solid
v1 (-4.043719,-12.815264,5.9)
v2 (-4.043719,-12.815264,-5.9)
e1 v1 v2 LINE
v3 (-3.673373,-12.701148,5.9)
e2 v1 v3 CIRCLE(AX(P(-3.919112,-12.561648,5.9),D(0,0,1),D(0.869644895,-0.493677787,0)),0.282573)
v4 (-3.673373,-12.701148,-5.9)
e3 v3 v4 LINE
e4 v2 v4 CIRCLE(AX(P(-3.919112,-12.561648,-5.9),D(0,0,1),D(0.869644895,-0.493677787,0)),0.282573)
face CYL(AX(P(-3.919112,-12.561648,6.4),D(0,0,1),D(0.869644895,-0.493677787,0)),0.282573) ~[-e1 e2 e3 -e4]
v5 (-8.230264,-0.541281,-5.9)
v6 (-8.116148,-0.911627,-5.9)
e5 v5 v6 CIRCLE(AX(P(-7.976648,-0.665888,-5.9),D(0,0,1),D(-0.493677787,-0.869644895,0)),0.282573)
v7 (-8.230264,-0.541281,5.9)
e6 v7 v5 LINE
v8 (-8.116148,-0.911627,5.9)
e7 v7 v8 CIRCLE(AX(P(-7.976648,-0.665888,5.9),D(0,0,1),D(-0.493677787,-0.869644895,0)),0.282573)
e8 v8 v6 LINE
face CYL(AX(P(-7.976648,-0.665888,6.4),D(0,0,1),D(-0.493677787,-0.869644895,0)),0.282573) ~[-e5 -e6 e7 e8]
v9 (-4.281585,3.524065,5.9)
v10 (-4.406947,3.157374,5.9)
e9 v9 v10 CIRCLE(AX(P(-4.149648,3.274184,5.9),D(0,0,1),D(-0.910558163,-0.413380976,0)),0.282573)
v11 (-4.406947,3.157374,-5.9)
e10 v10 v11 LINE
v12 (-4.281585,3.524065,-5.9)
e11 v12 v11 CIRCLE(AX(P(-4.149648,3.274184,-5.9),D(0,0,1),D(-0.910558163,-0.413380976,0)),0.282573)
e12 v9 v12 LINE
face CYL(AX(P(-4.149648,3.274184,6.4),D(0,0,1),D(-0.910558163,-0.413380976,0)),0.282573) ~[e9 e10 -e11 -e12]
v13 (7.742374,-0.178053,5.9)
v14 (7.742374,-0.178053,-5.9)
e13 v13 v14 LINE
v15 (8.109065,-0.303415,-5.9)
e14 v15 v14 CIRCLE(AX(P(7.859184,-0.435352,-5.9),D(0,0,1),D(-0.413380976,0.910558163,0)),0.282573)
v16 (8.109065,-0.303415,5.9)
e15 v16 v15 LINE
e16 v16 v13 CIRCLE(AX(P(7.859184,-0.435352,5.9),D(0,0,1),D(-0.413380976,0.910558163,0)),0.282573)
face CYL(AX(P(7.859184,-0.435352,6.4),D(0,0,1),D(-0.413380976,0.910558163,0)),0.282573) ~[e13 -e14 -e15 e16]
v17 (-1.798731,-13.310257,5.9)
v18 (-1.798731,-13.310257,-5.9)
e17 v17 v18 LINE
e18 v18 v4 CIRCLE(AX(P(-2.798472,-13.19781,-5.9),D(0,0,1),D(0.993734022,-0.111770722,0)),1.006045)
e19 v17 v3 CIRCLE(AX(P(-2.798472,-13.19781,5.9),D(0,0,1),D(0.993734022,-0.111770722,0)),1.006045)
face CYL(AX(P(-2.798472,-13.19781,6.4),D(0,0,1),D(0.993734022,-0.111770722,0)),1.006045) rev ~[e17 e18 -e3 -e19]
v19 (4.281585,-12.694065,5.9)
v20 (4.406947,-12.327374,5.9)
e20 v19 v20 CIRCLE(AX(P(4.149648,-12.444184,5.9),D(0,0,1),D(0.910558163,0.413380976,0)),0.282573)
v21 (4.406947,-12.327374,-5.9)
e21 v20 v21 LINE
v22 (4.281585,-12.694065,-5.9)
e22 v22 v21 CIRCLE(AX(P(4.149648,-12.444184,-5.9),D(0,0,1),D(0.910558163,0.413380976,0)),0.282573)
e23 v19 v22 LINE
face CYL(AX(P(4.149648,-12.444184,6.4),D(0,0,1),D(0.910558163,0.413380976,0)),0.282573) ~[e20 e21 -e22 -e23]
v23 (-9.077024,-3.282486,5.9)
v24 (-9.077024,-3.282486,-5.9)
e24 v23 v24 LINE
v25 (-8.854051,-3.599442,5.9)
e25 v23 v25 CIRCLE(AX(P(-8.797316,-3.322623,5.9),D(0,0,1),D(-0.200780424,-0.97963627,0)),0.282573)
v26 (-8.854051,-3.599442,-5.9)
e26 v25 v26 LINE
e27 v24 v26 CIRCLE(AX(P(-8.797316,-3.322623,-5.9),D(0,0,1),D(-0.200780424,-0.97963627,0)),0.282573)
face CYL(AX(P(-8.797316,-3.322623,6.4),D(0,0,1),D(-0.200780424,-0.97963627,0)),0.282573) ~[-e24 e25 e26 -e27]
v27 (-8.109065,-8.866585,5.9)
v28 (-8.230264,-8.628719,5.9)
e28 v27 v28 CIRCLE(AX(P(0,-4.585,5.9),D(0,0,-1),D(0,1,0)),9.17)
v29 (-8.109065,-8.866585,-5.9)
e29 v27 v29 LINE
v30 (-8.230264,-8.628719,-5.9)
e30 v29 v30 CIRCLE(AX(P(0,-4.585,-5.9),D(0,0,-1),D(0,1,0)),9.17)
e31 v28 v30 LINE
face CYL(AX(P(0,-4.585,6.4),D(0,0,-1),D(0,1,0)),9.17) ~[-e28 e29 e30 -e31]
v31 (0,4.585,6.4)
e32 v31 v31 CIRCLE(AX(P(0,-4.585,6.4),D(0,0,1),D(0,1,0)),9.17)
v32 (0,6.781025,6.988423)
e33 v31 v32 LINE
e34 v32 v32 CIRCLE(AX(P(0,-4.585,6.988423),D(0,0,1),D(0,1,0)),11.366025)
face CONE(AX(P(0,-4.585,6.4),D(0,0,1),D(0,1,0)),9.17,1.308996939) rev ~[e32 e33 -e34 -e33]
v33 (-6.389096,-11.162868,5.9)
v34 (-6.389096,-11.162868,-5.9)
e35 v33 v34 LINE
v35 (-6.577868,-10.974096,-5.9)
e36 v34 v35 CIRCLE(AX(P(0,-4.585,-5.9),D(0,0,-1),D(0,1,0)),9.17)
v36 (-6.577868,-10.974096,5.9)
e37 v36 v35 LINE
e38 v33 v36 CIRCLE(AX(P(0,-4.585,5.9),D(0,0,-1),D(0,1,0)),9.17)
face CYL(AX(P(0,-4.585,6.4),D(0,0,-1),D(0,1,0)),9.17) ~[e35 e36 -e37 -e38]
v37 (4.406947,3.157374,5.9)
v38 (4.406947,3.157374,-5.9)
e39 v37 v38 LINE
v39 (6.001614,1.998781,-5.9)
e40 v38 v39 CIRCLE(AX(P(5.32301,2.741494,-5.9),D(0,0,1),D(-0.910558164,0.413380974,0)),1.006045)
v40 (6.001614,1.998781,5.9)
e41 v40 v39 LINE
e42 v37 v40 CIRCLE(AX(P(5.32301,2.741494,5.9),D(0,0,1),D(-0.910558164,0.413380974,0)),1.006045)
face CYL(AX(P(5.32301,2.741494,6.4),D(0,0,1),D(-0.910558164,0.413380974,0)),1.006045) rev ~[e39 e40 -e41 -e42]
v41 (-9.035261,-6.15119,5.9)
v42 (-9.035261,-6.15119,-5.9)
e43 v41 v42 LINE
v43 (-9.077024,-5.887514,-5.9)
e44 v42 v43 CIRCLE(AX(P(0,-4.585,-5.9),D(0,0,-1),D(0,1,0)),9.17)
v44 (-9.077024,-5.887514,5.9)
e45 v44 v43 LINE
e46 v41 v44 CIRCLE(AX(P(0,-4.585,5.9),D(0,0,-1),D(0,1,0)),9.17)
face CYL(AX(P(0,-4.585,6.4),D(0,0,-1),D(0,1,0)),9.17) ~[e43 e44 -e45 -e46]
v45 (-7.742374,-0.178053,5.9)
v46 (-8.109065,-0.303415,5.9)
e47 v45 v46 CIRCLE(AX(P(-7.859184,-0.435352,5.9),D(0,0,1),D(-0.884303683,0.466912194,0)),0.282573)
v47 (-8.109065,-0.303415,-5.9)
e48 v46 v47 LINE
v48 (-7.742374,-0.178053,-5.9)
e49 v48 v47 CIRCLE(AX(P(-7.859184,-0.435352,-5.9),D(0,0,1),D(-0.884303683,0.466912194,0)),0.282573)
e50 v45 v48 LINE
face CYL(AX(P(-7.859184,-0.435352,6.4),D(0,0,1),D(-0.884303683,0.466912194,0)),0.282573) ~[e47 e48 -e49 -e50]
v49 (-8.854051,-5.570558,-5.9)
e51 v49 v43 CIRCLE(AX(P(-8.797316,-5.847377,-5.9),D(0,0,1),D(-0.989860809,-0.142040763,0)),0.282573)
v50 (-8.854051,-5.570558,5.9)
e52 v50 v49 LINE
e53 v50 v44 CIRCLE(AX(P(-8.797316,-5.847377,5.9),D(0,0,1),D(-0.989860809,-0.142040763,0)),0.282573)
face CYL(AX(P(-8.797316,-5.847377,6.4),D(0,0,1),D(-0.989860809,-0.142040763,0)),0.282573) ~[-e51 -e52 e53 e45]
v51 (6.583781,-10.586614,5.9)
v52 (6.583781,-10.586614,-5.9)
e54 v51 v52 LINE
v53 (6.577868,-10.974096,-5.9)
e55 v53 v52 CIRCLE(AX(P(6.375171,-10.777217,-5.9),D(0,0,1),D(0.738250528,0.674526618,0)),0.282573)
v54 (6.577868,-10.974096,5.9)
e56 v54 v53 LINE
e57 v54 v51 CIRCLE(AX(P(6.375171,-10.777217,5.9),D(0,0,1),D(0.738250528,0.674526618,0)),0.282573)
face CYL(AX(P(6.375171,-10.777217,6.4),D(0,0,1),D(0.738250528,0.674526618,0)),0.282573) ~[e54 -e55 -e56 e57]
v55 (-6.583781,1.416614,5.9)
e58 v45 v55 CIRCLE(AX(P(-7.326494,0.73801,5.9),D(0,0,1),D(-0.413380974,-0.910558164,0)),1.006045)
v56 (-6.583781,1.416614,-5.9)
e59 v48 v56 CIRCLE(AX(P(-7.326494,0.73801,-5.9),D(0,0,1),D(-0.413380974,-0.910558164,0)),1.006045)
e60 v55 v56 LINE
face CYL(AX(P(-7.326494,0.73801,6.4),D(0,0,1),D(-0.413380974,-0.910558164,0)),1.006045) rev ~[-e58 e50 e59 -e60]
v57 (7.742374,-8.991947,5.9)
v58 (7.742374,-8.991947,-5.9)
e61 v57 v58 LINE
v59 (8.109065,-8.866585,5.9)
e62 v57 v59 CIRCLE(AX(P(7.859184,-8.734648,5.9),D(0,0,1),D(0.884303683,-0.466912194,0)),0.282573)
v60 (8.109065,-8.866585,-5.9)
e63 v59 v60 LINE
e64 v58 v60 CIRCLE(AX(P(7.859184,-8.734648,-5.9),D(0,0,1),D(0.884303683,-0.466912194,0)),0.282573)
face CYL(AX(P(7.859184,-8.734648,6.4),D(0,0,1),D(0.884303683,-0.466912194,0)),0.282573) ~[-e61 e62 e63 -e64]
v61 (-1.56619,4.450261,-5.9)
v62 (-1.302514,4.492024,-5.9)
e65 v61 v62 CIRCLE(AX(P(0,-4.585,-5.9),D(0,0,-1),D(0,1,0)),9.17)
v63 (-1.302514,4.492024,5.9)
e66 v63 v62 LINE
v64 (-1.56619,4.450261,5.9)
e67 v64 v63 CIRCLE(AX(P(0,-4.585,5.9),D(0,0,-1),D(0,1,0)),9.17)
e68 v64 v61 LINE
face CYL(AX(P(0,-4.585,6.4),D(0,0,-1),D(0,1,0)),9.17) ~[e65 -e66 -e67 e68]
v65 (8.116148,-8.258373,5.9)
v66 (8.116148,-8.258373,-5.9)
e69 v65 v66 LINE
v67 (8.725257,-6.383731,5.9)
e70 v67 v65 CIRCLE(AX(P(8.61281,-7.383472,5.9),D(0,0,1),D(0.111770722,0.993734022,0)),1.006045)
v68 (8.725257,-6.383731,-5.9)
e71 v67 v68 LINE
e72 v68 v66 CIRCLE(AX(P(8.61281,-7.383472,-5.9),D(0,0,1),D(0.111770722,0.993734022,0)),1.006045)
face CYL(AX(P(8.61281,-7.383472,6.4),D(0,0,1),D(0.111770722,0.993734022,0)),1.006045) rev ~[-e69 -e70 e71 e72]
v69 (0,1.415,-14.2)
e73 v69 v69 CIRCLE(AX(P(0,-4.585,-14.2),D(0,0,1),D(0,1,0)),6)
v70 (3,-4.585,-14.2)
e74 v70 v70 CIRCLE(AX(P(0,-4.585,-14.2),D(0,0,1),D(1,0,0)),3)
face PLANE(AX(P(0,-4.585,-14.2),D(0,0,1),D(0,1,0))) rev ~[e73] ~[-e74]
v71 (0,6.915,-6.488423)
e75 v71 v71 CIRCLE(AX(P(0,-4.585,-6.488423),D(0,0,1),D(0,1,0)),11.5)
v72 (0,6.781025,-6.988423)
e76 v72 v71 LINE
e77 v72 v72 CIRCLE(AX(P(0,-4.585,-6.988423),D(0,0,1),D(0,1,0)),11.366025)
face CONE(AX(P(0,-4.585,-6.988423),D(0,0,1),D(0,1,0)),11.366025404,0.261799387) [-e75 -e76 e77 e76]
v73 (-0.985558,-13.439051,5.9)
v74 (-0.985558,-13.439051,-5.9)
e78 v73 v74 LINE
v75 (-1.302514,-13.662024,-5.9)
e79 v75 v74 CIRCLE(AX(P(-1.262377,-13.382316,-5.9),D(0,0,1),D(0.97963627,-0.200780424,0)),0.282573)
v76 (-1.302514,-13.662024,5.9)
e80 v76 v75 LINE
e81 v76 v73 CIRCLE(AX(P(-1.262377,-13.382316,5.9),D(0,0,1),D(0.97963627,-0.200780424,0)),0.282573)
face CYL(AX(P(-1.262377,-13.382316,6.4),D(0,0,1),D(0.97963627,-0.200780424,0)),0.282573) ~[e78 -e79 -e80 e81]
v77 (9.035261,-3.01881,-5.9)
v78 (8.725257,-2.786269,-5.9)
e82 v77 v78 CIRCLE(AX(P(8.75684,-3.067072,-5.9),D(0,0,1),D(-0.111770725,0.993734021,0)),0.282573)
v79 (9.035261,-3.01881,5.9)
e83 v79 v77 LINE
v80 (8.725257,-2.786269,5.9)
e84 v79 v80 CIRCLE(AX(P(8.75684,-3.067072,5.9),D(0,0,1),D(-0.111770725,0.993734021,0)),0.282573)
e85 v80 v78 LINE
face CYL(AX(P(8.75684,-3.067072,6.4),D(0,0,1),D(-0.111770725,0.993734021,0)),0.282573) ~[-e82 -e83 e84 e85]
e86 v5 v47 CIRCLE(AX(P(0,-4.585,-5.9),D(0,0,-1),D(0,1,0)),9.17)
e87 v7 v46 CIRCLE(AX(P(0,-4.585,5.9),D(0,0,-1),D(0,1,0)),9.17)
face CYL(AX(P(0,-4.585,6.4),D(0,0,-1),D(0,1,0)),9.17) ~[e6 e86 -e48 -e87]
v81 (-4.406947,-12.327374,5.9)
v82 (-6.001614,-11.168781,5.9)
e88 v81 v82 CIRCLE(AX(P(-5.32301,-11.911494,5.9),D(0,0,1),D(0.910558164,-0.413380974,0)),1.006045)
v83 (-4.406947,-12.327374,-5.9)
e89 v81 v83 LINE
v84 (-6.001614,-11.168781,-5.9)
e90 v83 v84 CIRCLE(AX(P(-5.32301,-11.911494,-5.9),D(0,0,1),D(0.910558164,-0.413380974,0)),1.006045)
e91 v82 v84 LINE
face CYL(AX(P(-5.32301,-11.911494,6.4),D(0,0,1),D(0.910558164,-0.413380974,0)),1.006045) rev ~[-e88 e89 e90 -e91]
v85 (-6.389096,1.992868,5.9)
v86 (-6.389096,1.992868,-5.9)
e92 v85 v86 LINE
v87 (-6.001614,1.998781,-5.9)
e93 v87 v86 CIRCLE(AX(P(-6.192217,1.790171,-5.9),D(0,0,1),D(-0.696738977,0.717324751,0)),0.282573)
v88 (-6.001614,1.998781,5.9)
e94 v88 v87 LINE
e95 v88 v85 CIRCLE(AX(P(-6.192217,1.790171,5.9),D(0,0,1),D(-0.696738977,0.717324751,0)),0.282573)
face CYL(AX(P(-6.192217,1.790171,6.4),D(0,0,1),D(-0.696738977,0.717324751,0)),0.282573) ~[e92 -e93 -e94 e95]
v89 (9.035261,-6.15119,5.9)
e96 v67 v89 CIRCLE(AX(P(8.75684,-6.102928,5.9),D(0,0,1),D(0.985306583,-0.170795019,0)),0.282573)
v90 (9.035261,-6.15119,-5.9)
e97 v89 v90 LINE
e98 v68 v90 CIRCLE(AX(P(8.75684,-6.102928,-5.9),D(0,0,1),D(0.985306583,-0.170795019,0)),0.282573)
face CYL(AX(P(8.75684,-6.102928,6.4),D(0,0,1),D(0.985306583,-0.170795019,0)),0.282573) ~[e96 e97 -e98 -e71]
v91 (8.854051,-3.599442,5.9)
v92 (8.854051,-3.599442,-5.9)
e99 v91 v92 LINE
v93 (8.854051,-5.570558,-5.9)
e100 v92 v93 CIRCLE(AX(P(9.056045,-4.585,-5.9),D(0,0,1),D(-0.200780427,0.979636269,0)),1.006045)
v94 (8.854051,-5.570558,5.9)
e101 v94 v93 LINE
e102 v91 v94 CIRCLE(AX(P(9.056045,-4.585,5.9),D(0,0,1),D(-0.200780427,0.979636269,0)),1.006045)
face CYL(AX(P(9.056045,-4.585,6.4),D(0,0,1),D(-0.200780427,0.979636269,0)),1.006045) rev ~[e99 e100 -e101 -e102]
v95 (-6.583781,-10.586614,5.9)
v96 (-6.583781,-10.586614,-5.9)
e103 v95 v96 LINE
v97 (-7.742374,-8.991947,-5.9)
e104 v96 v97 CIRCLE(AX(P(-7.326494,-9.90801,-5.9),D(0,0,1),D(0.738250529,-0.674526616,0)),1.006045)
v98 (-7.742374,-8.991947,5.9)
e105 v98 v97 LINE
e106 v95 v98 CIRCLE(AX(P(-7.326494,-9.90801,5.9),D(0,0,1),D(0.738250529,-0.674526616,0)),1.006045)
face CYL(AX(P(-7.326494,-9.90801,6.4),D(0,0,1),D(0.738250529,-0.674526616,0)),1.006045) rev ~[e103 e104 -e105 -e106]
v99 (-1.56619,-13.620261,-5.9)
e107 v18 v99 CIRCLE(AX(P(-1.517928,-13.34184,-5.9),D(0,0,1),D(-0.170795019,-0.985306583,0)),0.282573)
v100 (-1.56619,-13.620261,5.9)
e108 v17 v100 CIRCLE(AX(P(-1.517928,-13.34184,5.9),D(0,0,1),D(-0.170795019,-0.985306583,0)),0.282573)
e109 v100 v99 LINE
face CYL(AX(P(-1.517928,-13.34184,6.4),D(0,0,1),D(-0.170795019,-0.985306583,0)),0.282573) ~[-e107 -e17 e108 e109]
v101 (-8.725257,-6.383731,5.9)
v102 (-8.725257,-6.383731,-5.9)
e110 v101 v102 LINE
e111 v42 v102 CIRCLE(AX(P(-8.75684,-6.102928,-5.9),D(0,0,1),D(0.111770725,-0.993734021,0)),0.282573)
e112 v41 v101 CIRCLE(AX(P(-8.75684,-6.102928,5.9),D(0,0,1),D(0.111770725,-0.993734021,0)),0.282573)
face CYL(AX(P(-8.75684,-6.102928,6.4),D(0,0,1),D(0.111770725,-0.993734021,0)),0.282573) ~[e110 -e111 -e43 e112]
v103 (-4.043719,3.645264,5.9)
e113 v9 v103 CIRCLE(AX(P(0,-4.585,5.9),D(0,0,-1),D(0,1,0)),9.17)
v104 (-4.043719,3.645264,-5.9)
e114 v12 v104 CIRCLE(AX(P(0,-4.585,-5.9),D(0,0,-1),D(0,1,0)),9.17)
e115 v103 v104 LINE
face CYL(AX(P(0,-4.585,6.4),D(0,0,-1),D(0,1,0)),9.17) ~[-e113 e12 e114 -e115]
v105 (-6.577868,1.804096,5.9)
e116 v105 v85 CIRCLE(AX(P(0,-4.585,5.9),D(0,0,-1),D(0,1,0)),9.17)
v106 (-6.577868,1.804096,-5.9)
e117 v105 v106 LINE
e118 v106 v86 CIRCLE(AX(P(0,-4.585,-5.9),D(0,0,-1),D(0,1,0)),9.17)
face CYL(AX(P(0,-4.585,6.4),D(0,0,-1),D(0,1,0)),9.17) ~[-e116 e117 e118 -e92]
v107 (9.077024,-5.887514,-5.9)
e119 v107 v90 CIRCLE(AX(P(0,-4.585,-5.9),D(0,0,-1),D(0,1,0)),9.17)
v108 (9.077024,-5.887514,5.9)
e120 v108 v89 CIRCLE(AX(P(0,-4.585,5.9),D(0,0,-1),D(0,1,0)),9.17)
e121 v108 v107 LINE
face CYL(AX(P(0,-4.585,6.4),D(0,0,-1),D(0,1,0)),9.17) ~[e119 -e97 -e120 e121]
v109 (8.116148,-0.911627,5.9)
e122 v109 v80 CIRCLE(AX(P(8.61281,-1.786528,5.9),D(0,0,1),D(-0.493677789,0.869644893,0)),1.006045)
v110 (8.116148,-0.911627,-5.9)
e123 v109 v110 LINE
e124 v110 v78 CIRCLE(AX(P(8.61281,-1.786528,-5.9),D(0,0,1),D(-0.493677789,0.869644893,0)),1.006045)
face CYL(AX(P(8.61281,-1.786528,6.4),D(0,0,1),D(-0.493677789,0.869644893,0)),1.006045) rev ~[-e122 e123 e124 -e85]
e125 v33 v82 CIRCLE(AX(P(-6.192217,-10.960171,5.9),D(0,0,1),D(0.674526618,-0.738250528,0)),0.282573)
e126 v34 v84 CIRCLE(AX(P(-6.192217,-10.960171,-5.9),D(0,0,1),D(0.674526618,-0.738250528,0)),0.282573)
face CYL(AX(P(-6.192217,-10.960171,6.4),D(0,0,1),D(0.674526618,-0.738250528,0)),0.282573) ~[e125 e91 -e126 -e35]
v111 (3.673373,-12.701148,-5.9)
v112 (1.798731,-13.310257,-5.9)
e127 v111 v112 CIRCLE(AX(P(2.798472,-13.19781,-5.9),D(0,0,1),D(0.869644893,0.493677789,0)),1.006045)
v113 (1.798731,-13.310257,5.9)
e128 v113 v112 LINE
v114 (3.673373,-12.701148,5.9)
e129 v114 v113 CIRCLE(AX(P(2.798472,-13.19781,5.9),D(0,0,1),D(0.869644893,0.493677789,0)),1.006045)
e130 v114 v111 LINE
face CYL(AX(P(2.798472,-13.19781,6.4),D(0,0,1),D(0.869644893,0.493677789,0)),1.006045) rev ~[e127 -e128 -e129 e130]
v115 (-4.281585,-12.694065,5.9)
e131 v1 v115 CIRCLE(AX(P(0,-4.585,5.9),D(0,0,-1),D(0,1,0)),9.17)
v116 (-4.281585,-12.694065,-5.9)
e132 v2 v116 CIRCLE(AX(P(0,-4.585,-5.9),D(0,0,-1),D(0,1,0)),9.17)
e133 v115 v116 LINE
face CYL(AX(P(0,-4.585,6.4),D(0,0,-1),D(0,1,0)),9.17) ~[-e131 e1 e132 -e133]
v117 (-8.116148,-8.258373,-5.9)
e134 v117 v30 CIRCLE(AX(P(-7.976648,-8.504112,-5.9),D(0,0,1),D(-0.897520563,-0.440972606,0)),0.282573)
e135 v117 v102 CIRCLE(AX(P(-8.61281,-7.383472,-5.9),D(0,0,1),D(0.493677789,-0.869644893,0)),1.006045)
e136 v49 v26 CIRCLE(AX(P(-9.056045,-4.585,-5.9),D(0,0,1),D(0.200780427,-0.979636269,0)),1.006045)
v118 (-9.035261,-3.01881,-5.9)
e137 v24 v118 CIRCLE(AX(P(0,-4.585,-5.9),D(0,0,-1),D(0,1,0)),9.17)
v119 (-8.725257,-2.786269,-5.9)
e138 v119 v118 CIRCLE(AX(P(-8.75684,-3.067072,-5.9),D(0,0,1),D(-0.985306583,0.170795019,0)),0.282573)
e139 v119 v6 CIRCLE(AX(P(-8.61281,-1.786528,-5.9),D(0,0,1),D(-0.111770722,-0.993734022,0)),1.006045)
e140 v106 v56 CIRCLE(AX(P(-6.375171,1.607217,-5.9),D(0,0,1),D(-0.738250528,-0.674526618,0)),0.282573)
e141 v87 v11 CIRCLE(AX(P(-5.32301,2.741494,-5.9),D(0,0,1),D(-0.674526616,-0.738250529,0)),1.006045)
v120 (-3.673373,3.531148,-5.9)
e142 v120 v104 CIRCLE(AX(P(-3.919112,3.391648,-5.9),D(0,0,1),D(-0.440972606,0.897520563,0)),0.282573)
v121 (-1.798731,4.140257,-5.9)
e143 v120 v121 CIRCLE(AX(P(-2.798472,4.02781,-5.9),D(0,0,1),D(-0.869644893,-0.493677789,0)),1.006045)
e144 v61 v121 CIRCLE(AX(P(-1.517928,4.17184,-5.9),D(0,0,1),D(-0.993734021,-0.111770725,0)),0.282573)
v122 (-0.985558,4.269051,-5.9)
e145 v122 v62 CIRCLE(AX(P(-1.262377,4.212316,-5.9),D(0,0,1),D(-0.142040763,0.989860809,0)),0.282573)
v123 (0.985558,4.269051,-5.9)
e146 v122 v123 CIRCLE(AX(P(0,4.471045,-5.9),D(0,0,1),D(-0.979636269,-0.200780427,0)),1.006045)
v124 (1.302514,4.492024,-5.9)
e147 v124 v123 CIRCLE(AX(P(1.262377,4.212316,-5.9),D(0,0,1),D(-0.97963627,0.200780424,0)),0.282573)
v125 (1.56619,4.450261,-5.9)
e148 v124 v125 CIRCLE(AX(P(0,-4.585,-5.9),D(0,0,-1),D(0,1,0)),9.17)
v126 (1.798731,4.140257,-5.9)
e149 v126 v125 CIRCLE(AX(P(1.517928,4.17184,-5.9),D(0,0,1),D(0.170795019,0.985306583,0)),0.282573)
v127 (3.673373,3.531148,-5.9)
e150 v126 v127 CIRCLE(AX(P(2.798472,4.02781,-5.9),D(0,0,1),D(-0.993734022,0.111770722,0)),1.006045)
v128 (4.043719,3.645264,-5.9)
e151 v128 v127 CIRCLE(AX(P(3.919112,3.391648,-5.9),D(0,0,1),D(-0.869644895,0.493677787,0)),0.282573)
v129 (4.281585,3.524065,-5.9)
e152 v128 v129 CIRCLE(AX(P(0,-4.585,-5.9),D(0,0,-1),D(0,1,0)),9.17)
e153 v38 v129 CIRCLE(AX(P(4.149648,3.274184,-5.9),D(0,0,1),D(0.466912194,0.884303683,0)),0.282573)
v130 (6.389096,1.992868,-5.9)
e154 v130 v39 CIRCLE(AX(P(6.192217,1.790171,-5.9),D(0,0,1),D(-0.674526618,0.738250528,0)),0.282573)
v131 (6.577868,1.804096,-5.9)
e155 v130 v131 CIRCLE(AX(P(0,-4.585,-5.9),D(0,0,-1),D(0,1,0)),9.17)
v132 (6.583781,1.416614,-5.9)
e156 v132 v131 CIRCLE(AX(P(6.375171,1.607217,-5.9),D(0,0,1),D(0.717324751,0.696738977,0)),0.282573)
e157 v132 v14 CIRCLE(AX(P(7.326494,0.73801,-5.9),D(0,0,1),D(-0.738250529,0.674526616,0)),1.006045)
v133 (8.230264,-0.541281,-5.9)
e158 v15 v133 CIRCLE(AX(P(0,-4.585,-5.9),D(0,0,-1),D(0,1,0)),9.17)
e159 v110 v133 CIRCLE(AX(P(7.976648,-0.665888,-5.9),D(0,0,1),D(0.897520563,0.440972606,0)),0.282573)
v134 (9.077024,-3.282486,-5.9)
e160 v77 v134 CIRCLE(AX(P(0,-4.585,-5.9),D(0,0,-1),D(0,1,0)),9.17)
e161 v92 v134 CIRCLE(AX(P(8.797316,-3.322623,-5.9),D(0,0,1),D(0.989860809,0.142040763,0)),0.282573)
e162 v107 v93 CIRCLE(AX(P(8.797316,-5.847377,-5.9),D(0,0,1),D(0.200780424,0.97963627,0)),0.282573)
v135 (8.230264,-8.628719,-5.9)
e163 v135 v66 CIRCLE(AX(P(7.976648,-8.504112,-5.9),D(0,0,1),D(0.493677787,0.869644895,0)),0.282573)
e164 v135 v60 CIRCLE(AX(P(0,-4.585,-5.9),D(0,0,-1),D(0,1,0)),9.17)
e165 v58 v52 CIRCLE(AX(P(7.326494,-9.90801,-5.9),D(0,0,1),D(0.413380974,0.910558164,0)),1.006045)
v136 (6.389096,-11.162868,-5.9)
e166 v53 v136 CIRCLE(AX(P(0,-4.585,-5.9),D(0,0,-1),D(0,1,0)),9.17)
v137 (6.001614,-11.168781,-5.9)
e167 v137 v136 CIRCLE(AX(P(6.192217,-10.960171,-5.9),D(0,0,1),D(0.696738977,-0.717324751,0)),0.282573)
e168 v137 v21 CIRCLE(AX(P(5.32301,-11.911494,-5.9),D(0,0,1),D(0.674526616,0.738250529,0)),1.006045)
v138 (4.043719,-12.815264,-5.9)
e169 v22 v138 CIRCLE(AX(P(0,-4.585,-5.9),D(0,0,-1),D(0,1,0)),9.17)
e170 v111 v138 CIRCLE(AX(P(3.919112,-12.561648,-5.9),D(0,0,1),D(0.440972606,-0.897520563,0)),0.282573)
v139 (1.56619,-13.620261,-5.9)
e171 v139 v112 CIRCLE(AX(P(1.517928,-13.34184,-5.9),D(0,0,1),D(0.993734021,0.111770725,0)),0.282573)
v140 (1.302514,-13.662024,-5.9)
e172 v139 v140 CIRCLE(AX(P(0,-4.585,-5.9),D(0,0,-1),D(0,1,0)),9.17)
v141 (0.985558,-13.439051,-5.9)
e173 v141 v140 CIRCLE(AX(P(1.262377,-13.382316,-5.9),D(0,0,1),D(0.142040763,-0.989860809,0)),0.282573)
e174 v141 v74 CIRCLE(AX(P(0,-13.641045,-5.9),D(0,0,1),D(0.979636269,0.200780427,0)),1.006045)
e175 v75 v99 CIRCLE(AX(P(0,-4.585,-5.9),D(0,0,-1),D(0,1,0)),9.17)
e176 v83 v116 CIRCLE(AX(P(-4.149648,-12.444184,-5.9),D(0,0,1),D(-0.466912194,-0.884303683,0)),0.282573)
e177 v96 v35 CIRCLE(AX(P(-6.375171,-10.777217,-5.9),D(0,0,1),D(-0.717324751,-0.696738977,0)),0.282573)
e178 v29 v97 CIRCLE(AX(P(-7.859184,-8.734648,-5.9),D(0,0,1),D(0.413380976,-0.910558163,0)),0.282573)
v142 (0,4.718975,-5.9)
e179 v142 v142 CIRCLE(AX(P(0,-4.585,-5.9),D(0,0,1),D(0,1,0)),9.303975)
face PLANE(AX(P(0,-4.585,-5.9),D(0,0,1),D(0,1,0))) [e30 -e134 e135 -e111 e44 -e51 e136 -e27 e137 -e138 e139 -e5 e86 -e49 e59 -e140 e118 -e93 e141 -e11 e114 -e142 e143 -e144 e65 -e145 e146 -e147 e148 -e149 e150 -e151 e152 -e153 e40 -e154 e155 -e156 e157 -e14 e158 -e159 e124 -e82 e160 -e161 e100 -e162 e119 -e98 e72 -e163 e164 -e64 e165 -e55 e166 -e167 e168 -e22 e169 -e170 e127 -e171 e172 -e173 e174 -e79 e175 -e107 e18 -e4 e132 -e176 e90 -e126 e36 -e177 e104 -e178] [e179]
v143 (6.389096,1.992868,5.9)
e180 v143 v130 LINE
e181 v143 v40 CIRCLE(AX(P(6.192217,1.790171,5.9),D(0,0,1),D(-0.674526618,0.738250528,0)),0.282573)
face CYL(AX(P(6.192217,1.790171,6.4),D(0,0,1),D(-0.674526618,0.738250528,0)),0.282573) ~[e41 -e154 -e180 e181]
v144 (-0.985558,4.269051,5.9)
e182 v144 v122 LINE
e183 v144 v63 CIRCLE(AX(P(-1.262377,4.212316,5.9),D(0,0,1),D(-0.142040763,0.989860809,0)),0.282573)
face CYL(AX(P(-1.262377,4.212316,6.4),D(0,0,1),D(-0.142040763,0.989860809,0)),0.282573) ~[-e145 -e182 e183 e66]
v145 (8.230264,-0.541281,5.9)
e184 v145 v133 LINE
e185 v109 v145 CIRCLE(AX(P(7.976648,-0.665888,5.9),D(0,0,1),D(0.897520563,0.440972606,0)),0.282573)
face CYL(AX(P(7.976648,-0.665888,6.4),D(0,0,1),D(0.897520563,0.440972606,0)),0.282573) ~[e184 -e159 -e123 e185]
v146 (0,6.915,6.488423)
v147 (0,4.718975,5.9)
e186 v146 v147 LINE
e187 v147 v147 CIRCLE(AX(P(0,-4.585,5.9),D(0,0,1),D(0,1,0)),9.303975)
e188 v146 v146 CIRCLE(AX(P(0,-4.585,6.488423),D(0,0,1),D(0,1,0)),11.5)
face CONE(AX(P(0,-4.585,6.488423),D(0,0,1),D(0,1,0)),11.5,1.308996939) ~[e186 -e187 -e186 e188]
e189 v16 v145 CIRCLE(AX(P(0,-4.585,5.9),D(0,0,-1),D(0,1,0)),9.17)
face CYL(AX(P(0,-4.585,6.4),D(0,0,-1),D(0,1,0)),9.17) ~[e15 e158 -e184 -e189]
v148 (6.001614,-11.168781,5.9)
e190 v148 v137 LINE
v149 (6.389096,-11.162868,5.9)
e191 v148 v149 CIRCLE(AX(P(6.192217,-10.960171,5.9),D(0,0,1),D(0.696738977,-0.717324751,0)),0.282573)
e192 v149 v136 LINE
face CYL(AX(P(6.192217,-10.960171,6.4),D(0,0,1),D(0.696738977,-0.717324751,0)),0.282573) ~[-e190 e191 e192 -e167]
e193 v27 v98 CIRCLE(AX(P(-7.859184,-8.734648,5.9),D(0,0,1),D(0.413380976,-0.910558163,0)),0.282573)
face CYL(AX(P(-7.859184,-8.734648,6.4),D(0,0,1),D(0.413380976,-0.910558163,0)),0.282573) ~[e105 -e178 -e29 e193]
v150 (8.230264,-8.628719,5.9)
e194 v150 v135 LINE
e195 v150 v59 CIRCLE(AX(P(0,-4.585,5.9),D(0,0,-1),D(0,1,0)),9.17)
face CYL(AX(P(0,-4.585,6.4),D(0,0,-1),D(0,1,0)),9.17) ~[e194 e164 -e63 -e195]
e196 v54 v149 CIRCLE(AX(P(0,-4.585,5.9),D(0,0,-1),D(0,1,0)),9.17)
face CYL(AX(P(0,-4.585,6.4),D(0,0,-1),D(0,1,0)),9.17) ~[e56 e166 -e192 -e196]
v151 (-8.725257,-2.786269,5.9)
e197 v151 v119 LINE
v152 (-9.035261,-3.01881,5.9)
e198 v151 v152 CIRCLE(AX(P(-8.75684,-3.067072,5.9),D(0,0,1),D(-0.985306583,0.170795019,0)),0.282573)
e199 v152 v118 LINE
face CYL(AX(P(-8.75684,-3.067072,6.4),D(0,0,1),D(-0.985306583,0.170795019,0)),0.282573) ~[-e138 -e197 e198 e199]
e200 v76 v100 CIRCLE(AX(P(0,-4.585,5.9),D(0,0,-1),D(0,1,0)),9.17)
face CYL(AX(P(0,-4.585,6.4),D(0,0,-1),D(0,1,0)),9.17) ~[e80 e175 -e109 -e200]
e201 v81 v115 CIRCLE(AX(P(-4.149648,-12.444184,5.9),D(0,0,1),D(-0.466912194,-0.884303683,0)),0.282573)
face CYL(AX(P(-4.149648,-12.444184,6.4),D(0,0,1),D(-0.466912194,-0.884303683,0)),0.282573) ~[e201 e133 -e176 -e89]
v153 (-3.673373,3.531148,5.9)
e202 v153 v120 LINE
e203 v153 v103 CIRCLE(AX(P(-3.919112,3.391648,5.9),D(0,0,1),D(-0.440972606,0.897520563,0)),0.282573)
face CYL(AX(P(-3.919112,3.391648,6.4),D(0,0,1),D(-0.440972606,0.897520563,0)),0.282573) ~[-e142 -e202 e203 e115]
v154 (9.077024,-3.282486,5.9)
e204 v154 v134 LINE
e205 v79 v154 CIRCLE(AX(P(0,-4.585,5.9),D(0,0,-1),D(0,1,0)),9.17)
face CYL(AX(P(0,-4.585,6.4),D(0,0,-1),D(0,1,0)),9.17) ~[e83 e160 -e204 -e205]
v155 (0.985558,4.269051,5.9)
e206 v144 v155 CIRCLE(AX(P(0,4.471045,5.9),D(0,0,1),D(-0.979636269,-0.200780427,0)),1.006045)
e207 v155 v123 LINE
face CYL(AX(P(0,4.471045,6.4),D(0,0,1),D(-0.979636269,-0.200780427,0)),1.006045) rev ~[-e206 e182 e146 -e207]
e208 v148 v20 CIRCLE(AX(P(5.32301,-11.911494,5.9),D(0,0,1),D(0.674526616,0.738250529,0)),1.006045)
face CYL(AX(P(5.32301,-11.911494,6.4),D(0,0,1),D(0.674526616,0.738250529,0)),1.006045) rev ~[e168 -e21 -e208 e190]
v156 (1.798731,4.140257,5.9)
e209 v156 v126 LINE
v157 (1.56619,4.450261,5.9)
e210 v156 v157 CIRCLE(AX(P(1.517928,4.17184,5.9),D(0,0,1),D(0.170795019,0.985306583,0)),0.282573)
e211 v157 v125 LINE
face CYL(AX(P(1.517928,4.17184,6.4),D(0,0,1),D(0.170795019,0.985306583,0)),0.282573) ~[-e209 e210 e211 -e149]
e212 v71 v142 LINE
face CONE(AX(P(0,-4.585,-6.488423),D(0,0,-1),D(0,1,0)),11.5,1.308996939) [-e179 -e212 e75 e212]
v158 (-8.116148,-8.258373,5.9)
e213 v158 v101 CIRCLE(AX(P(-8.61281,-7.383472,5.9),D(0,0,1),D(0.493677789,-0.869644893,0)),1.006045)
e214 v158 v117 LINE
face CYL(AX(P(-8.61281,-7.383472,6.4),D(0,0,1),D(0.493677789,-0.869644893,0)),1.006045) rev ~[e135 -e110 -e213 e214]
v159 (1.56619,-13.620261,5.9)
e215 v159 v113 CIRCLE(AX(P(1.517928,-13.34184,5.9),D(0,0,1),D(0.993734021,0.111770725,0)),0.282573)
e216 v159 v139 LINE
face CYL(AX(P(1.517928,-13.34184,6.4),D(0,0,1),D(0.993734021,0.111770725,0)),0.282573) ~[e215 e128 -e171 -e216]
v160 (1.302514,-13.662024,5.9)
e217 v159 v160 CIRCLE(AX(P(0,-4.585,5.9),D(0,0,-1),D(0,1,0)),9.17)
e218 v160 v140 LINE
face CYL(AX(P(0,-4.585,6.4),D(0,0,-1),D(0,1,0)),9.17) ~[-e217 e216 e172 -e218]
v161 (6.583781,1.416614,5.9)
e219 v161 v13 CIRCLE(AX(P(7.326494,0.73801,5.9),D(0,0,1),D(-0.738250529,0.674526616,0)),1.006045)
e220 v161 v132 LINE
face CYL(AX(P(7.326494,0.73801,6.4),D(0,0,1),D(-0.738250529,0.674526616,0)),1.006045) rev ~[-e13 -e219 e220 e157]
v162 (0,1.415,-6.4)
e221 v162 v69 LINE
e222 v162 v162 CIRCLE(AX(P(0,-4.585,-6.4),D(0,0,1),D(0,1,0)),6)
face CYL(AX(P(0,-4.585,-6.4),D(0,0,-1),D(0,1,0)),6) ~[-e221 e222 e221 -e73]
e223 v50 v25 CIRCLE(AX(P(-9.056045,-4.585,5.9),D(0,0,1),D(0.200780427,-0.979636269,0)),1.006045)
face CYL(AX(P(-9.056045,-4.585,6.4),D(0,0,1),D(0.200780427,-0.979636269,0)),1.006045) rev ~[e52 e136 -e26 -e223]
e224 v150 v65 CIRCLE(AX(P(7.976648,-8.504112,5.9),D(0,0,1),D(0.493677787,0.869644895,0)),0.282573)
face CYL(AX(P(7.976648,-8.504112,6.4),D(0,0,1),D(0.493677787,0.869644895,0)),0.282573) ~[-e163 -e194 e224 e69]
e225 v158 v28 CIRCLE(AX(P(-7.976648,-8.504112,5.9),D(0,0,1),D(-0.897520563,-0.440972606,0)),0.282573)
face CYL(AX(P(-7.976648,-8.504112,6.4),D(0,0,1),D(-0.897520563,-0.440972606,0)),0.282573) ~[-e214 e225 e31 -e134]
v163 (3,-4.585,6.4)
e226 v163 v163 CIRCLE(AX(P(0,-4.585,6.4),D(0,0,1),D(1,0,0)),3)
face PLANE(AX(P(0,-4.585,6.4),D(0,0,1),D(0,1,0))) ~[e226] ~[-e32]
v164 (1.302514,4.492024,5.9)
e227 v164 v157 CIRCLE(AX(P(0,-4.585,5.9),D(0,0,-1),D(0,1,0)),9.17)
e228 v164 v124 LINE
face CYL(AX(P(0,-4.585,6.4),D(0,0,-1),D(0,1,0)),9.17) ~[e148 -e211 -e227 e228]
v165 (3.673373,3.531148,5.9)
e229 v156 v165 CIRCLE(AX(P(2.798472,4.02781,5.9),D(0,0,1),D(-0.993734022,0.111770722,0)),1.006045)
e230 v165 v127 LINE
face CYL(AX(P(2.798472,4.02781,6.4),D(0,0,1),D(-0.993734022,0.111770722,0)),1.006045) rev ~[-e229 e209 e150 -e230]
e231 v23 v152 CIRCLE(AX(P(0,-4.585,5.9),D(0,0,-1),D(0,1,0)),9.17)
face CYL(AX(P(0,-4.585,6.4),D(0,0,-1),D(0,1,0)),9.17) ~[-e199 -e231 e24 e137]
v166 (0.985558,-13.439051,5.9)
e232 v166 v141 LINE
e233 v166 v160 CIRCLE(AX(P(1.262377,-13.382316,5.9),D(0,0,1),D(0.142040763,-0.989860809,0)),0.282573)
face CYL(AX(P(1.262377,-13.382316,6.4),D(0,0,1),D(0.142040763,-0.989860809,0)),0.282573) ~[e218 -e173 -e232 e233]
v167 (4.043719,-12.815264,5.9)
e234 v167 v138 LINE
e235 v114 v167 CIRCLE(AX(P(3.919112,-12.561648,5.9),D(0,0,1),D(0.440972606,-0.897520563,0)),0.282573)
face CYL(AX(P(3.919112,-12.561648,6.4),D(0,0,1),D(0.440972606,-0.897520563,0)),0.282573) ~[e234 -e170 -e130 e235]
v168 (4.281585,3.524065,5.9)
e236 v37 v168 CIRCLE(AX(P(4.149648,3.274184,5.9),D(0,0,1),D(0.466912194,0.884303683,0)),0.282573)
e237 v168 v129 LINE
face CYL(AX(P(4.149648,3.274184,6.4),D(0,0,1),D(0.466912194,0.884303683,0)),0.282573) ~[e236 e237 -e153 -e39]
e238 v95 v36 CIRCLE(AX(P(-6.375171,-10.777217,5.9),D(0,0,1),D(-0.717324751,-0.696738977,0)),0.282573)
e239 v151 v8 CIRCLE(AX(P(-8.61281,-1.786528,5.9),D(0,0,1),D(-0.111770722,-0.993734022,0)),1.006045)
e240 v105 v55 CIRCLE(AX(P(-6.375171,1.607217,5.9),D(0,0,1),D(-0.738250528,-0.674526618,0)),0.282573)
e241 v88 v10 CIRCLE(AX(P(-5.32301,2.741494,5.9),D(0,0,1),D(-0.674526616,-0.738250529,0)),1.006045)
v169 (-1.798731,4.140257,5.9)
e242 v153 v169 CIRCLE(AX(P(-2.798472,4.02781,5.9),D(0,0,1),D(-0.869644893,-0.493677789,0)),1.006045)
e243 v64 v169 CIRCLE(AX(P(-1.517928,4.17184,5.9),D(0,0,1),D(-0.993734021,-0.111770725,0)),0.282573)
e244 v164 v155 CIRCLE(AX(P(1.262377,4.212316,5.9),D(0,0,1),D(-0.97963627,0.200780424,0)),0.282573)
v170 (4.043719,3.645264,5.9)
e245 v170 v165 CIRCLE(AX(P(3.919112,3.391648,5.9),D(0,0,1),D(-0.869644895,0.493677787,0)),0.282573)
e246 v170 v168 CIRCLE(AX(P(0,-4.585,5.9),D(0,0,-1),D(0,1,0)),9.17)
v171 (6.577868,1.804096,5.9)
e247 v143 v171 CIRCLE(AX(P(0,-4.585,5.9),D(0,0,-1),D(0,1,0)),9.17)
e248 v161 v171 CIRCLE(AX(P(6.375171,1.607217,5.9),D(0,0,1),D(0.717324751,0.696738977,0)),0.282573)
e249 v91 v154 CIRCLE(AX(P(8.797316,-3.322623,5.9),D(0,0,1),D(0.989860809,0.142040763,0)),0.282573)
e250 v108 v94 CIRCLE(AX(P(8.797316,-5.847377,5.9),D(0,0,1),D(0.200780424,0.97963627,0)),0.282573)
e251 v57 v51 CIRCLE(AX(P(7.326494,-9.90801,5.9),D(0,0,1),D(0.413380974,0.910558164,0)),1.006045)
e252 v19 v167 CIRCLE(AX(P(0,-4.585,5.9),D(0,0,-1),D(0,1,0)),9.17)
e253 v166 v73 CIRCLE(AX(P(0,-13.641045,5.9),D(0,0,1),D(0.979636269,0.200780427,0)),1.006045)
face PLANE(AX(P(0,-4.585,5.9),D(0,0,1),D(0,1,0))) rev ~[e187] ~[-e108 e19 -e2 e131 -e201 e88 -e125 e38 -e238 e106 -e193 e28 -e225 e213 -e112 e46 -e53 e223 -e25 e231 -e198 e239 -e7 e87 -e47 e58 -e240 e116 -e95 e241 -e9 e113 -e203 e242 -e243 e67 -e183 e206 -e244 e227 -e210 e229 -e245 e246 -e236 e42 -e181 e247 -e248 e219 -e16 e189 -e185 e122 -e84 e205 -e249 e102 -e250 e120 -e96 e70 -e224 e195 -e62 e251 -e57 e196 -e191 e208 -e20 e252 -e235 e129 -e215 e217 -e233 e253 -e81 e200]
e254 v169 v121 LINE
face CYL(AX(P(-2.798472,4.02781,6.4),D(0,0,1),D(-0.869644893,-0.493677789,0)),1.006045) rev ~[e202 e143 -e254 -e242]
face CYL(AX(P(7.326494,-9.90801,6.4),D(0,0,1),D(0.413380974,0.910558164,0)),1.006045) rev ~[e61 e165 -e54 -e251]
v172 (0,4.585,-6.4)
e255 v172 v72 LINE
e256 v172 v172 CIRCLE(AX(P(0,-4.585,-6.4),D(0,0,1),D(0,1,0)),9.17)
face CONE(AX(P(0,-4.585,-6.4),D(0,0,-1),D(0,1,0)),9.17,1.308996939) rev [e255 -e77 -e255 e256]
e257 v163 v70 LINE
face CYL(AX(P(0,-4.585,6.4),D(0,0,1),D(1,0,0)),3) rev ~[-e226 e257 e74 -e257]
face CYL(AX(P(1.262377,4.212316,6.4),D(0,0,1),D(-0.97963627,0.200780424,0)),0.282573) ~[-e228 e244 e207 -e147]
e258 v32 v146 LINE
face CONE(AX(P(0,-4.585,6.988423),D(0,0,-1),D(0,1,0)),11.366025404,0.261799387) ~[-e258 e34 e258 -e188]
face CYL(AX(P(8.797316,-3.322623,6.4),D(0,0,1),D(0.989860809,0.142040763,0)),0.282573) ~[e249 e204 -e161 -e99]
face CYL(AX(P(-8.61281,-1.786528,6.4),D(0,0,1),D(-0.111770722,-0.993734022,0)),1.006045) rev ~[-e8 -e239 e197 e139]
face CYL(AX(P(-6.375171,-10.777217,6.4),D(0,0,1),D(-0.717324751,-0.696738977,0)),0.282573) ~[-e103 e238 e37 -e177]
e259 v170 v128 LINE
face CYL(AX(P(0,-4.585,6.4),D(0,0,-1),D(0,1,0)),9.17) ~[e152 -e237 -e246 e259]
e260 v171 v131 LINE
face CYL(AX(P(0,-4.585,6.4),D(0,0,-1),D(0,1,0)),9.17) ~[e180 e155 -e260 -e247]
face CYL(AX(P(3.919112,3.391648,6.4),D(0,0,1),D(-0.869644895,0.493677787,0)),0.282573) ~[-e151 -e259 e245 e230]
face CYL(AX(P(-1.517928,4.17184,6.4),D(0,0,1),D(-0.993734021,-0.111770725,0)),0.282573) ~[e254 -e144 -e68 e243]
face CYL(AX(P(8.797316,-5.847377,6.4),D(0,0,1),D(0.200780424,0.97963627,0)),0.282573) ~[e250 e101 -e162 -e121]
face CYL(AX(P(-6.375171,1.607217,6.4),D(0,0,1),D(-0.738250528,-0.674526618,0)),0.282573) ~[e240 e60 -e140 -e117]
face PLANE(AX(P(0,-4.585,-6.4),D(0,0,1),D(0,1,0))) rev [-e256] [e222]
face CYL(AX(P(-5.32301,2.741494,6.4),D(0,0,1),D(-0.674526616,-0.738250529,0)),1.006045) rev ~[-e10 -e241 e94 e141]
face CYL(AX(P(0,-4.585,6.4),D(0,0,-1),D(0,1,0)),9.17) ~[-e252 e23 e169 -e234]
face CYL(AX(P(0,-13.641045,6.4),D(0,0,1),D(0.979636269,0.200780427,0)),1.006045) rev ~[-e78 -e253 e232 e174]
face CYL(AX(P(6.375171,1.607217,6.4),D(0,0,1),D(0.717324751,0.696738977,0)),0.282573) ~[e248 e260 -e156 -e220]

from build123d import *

# Parameters (mm, degrees)
KUGGLUCKA_DEPTH  = 12.8
CIRPATTERN_COUNT = 20
RITNING_4_R      = 3
AXELH_L_DEPTH    = 29.554110475


with BuildPart() as part:
    # Ritning 1 → Kugghjulsämne (revolve)
    with BuildSketch(Plane(origin=(0, 0, 0), x_dir=(0, 0, -1), z_dir=(1, 0, 0))):
        Polygon((6.4, 4.585), (6.4, 1.415), (14.2, 1.415), (14.2, -4.585), (6.4, -4.585), (-6.4, -4.585), (-6.4, 4.585), align=None)
    revolve(axis=Axis((0, -4.585, -14.2), (0, 0, 1)))

    # Ritning 2 → Kugglucka (cut)
    with BuildSketch(Plane.XY.offset(6.4)):
        with BuildLine():
            Line((1.302513782, 4.492023623), (1.302513782, 5.612023623))
            Line((1.302513782, 5.612023623), (-1.302513782, 5.612023623))
            Line((-1.302513782, 5.612023623), (-1.302513782, 4.492023623))
            ThreePointArc((-1.302513782, 4.492023623), (-1.099792064, 4.443429711), (-0.985557985, 4.269050704))
            ThreePointArc((-0.985557985, 4.269050704), (0, 3.465), (0.985557985, 4.269050704))
            ThreePointArc((0.985557985, 4.269050704), (1.099792064, 4.443429711), (1.302513782, 4.492023623))
        make_face()
    kugglucka = extrude(amount=-KUGGLUCKA_DEPTH, mode=Mode.SUBTRACT)

    # CirPattern: Kugglucka ×20 about axis
    cirpattern_axis = Axis((0, -4.585, 0), (0, 0, 1))
    for i in range(1, CIRPATTERN_COUNT):
        add(kugglucka.rotate(cirpattern_axis, i * 360 / CIRPATTERN_COUNT), mode=Mode.SUBTRACT)

    # Ritning 3 → Flänsar (revolve)
    with BuildSketch(Plane(origin=(0, 0, 0), x_dir=(0, 0, -1), z_dir=(1, 0, 0))):
        Polygon((-5.9, 3.0625), (-6.4, 3.0625), (-6.4, 4.585), (-6.988423234, 6.781025404), (-6.488423234, 6.915), (-5.9, 4.718974596), align=None)
        Polygon((5.9, 3.0625), (6.4, 3.0625), (6.4, 4.585), (6.988423234, 6.781025404), (6.488423234, 6.915), (5.9, 4.718974596), align=None)
    revolve(axis=Axis((0, -4.585, -6.4), (0, 0, 1)))

    # Ritning 4 → Axelhål (cut, through all)
    with BuildSketch(Plane.XY.offset(6.4)):
        with Locations((0, -4.585)):
            Circle(RITNING_4_R)
    extrude(amount=-AXELH_L_DEPTH, mode=Mode.SUBTRACT)


solid = part.part
